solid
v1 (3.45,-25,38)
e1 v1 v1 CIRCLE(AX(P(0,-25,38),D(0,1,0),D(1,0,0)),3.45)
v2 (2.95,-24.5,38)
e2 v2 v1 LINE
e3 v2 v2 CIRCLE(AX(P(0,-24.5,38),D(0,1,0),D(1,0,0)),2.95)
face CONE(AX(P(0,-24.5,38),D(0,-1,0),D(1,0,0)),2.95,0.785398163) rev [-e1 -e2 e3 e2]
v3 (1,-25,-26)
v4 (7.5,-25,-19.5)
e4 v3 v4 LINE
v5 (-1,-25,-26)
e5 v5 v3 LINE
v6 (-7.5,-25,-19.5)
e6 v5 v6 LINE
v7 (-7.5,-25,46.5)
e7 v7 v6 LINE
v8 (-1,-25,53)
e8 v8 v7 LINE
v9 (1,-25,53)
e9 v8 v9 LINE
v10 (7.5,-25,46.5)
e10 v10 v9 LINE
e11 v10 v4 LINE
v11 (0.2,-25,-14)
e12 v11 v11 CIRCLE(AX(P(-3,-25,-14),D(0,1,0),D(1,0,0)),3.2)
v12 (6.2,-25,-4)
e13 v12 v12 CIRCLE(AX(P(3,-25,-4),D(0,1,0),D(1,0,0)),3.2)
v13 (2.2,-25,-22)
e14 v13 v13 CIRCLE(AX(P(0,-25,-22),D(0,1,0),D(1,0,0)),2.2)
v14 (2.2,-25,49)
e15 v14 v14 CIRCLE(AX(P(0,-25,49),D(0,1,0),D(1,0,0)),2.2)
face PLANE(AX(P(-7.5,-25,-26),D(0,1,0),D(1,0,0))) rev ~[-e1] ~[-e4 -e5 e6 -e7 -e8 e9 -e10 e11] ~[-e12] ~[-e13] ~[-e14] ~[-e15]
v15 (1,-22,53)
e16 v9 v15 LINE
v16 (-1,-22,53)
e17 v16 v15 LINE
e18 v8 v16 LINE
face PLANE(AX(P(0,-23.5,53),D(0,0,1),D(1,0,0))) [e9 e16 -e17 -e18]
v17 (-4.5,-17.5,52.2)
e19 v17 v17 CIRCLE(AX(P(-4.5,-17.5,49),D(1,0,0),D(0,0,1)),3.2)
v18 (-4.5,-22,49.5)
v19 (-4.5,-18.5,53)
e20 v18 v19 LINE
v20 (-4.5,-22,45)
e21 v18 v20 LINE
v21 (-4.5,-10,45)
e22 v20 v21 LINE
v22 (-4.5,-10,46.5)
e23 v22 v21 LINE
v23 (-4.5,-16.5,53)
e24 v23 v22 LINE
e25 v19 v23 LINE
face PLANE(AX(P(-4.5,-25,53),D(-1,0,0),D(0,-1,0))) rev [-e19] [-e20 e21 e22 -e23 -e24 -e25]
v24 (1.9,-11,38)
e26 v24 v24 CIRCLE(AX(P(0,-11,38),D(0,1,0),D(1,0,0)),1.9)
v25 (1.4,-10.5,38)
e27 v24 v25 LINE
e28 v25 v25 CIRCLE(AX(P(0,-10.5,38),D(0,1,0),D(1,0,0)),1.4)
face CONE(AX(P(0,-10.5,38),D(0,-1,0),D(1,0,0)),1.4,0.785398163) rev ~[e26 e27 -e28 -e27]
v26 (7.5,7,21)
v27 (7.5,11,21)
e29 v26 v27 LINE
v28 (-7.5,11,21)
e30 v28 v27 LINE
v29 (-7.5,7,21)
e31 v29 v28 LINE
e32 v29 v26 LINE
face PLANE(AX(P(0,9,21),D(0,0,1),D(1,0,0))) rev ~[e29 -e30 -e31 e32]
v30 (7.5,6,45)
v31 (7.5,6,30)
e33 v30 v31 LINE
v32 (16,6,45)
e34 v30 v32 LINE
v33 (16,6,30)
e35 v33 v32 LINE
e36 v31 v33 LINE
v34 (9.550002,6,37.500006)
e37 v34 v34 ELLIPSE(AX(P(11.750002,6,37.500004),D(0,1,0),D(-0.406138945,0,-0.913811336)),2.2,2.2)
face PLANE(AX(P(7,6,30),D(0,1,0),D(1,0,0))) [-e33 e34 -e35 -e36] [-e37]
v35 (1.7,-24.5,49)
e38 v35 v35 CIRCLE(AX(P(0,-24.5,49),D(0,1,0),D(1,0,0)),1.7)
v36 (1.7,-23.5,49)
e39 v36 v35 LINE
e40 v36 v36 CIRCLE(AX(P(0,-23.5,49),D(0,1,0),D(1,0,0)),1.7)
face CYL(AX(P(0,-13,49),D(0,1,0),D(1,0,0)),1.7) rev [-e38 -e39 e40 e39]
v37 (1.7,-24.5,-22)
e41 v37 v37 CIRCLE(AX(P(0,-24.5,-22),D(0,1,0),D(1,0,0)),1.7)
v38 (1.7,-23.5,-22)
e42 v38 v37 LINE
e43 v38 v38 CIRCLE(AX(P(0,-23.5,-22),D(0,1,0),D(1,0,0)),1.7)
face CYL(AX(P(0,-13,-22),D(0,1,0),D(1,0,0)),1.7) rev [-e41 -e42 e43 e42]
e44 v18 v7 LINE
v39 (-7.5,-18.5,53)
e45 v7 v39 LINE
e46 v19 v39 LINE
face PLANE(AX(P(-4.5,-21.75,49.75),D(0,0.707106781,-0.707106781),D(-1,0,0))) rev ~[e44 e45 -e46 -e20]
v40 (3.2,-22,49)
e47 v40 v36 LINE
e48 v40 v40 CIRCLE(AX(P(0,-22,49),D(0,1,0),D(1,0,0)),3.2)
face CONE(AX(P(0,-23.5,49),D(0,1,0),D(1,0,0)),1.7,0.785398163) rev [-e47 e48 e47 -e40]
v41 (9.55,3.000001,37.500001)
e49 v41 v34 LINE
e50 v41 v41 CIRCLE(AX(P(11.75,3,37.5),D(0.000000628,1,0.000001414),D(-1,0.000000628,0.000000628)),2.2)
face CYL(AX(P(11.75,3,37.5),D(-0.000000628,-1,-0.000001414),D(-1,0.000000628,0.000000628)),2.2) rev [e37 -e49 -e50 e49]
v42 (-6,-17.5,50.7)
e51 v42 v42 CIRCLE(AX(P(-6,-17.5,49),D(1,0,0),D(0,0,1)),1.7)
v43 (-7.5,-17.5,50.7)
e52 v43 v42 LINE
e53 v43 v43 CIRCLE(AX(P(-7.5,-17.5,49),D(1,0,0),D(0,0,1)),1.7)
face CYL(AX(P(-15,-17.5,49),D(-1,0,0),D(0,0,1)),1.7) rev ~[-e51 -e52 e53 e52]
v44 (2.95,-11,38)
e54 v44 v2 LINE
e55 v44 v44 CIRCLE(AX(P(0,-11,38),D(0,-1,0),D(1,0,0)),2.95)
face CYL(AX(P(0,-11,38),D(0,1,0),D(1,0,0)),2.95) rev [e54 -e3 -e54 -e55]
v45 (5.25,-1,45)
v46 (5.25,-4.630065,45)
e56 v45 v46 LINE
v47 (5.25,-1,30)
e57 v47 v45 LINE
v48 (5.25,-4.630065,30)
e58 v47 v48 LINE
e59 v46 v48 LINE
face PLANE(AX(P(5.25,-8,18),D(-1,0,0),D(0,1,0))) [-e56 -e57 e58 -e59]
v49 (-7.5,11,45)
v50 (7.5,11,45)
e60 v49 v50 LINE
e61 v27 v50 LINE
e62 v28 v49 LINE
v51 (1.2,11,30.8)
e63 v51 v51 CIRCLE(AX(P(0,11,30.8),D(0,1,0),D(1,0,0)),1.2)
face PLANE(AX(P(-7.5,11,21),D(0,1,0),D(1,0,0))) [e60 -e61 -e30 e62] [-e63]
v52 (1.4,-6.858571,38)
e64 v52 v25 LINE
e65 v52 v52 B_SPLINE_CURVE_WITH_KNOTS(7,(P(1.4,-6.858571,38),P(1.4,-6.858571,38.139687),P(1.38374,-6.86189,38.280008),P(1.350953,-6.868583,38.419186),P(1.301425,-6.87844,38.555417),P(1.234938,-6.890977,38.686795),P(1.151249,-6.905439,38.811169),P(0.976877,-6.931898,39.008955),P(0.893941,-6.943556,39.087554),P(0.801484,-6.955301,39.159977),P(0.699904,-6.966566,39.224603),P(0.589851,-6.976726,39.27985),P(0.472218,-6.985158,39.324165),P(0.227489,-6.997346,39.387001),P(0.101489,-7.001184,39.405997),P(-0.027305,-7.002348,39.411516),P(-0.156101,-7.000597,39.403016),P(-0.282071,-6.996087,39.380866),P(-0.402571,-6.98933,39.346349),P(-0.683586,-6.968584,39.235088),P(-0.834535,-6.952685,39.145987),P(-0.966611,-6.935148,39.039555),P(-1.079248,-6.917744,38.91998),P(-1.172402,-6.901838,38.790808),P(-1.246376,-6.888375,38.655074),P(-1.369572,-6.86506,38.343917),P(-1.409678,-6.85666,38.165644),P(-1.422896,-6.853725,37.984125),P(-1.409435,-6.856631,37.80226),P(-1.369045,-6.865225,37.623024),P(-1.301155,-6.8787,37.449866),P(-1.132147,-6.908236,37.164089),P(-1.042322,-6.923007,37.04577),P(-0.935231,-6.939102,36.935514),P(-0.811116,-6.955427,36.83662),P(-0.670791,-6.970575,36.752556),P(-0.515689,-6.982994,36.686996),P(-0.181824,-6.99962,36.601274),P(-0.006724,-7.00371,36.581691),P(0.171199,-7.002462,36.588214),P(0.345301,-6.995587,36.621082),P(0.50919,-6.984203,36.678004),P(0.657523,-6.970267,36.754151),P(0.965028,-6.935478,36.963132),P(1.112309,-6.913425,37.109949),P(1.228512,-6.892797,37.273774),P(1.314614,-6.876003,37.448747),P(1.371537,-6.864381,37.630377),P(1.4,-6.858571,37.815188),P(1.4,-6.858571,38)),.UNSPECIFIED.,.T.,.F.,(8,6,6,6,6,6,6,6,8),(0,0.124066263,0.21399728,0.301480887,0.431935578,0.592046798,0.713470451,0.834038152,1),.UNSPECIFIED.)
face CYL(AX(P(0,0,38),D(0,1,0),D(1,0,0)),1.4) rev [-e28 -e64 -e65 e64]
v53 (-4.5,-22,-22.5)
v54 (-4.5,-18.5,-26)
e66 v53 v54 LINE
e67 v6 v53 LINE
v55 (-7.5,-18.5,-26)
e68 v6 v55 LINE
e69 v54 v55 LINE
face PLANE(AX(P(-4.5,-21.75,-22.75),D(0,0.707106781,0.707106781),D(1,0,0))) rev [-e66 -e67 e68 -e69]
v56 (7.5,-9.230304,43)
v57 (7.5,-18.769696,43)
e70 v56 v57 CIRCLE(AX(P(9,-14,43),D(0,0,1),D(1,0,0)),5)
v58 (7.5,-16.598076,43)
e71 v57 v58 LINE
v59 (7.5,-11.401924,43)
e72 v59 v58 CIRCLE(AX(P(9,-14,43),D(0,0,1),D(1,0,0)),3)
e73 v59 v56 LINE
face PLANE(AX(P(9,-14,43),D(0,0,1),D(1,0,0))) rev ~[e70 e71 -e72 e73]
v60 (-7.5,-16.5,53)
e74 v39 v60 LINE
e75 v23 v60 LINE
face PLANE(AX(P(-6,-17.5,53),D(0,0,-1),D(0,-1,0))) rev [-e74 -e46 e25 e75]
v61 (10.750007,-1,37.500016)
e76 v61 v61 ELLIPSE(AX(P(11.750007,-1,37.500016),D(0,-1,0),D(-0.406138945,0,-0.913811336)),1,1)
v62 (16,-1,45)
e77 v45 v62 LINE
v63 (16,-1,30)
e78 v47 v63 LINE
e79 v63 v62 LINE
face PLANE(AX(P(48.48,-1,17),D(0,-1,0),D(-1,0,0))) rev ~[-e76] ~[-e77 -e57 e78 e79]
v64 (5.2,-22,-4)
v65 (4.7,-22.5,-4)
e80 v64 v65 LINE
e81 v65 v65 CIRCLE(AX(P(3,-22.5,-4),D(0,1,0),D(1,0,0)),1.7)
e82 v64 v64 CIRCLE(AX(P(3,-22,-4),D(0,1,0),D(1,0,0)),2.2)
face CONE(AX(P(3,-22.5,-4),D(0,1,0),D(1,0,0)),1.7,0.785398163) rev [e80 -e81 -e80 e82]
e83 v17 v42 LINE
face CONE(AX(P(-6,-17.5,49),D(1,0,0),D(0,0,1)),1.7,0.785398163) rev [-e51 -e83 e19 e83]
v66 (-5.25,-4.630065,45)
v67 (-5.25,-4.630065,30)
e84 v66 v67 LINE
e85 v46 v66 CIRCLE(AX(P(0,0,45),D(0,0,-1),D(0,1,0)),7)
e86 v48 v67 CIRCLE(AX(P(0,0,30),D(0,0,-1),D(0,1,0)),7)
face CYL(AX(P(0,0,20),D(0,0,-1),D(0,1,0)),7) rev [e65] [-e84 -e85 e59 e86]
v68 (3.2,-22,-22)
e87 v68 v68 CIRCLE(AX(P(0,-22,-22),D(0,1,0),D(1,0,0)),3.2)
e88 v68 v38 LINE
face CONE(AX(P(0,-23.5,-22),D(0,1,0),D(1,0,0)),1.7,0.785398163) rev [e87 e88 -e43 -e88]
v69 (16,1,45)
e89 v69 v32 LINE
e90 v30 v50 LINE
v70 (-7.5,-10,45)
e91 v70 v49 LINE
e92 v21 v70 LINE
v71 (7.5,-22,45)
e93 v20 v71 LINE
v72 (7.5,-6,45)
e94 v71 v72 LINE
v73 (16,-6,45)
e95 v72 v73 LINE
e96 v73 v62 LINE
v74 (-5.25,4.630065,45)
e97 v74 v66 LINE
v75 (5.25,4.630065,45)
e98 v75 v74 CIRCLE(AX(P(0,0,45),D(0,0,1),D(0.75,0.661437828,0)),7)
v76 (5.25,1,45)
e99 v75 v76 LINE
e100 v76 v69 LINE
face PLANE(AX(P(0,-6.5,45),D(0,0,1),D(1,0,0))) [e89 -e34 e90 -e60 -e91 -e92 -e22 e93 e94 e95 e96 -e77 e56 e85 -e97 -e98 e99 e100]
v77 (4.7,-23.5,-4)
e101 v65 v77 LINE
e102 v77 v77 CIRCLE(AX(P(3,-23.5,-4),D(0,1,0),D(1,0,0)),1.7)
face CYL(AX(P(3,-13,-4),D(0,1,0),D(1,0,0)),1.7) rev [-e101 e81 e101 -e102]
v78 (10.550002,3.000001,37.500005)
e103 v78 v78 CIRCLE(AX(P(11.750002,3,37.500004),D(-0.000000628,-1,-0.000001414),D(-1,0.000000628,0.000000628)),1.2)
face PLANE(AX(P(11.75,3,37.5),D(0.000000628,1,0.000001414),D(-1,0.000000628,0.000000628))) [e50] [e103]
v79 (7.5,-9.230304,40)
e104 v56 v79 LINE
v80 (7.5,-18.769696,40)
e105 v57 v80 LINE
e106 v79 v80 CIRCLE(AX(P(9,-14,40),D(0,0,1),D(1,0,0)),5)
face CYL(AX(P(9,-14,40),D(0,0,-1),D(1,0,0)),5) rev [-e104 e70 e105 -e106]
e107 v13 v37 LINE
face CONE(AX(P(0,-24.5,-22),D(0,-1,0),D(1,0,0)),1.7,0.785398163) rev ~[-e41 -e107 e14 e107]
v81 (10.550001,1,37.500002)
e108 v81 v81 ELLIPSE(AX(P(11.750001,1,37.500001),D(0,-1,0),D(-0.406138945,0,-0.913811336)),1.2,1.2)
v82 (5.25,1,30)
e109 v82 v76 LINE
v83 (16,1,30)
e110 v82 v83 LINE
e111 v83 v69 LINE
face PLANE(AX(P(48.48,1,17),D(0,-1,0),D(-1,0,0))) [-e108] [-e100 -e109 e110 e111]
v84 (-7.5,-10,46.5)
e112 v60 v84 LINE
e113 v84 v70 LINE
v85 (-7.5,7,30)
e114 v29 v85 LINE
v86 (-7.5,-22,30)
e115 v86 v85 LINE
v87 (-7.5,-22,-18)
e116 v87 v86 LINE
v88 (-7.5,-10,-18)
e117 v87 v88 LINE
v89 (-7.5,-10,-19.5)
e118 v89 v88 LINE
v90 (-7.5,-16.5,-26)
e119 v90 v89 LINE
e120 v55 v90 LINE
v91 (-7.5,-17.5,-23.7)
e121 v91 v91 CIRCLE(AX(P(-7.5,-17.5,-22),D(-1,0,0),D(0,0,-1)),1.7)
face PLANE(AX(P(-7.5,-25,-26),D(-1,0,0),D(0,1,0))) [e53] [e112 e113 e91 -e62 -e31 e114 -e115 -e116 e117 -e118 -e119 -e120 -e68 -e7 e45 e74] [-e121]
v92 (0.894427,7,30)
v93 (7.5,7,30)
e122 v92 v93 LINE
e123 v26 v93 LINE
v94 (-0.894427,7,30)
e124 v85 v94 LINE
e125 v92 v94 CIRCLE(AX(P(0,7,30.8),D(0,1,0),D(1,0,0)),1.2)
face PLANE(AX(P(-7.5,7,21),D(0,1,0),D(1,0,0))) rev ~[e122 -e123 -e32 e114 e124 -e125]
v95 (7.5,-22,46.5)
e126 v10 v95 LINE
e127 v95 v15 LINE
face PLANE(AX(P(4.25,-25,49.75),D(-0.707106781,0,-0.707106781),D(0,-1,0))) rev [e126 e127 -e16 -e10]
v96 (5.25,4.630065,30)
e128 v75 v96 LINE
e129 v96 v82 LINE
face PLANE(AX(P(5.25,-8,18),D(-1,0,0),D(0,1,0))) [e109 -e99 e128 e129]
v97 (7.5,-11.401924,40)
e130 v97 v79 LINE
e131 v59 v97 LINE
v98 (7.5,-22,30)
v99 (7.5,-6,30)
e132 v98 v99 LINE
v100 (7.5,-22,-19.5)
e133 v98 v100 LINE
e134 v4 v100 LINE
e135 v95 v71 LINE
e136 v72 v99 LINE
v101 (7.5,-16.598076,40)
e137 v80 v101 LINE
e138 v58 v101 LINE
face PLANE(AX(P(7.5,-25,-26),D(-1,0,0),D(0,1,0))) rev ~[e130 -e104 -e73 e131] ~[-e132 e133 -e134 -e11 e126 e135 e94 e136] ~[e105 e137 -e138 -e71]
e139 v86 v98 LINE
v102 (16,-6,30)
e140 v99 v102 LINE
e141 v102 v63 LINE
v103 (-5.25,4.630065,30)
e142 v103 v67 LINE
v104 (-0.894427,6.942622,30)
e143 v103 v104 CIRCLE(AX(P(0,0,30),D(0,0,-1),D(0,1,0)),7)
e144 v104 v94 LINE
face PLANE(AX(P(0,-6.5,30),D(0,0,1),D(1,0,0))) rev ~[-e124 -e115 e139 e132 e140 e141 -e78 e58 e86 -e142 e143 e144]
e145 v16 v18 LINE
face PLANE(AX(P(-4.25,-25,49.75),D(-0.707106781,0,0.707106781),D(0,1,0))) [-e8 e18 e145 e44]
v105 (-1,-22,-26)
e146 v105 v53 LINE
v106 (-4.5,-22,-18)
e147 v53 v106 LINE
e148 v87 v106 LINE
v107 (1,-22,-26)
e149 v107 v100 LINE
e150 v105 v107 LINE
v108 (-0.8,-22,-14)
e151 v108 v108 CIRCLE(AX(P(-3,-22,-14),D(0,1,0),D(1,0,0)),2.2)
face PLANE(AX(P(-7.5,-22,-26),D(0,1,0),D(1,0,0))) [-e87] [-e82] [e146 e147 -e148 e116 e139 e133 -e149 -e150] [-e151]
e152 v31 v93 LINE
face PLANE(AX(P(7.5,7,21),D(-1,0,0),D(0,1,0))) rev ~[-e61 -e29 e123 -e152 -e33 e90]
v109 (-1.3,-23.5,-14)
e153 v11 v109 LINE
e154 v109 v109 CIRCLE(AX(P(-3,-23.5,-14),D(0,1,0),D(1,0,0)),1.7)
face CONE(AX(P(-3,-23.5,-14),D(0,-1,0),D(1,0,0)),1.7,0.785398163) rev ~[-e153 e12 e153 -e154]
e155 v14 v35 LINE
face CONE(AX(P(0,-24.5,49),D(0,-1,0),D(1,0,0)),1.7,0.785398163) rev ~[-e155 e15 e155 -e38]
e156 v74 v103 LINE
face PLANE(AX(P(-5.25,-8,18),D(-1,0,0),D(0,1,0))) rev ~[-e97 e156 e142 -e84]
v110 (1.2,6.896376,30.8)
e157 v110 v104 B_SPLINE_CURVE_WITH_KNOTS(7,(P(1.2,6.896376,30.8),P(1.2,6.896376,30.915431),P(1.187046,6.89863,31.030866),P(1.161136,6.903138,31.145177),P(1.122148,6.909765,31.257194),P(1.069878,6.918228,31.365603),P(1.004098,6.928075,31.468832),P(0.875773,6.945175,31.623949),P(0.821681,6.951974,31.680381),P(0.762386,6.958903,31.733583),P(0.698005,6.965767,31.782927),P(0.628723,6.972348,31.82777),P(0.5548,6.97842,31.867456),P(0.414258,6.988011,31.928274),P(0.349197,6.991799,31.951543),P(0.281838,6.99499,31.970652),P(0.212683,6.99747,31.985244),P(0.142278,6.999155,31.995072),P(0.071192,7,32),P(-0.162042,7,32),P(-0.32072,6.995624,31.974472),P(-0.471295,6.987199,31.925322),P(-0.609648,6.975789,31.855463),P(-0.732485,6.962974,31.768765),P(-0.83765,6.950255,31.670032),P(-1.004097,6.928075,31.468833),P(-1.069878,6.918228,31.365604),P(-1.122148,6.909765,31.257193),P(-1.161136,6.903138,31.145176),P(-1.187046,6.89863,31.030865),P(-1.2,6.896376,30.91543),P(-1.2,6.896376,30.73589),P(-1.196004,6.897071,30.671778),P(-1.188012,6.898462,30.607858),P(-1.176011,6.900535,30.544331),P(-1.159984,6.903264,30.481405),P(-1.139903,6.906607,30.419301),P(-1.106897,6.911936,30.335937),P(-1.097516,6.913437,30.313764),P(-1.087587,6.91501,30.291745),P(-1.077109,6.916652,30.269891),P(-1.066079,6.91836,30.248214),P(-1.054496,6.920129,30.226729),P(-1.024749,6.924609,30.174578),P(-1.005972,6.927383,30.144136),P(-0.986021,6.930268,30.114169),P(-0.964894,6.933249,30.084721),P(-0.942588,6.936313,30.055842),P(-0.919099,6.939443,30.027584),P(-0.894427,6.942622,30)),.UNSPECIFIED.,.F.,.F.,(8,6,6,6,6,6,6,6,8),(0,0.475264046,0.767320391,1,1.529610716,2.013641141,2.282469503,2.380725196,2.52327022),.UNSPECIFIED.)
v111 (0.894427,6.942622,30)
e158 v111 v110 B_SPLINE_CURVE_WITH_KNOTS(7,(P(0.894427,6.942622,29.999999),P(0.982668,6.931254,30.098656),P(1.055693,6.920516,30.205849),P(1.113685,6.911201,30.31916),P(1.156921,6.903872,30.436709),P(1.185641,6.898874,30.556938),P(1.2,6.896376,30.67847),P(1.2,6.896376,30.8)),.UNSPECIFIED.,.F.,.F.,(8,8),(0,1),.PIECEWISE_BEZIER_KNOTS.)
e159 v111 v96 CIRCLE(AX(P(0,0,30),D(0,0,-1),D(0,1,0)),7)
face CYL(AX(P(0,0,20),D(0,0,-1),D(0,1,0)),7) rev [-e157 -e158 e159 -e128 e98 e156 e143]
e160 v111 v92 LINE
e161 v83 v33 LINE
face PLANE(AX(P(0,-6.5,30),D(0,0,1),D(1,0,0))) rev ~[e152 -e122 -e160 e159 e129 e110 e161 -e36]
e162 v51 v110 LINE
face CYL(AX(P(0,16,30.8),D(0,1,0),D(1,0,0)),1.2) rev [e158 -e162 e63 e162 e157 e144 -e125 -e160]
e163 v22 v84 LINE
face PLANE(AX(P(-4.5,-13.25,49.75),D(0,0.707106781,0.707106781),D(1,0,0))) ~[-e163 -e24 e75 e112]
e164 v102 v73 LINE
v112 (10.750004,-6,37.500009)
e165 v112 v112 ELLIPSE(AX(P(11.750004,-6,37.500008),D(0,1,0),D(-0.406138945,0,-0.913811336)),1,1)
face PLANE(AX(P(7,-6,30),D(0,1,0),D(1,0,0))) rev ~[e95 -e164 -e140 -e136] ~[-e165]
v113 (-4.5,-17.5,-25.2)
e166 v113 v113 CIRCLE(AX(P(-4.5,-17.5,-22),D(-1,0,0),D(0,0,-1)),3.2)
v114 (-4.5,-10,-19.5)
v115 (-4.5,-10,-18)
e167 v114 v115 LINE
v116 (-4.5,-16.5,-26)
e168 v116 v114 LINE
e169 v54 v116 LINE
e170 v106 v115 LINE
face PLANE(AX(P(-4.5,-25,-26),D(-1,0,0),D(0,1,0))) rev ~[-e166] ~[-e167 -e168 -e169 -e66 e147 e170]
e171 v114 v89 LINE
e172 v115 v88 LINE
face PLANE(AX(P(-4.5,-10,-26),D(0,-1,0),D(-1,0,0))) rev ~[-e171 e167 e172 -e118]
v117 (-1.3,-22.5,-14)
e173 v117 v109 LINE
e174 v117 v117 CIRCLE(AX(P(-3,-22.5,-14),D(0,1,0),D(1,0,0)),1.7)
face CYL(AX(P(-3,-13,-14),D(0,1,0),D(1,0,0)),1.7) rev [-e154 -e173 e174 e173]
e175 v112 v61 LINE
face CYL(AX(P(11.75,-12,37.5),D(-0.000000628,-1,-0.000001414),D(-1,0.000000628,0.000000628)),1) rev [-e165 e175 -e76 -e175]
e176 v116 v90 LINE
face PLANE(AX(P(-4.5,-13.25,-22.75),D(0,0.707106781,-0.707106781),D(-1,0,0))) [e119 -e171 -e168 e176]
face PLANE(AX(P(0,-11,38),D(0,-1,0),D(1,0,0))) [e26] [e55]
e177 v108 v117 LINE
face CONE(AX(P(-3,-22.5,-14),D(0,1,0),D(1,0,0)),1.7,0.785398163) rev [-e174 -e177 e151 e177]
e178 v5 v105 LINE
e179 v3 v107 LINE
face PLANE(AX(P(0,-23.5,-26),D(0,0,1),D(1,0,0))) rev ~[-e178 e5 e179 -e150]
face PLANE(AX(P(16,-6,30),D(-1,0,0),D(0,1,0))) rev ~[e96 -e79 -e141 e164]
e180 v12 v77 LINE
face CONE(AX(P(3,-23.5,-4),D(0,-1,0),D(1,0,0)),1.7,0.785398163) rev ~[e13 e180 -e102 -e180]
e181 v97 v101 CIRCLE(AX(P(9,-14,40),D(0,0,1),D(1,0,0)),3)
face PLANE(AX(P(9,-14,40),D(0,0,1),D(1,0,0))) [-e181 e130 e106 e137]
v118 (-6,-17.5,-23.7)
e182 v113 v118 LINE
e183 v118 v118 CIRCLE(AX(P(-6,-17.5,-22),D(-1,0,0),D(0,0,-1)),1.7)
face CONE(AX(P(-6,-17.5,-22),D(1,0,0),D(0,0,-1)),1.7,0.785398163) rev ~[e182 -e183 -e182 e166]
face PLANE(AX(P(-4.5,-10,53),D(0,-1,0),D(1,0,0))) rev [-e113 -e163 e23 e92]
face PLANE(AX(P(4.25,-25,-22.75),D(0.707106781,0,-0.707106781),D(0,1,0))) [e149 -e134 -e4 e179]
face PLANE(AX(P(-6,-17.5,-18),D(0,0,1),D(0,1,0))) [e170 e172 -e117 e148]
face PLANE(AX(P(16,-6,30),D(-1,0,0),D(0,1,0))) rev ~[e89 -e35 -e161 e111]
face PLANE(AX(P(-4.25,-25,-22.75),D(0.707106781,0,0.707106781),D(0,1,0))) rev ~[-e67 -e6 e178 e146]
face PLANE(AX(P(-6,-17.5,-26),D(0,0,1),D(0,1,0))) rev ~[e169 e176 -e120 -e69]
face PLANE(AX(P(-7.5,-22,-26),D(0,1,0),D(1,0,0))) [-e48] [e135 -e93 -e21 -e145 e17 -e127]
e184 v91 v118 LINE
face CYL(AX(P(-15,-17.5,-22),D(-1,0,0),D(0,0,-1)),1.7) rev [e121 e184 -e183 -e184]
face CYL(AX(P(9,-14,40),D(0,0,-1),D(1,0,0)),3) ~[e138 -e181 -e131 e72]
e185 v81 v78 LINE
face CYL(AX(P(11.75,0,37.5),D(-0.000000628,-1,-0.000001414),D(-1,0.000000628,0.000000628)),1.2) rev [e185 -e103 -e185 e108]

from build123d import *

# Parameters (mm, degrees)
CYLINDER102_R               = 1.7
CYLINDER102_DEPTH           = 21
BOX406008019_W              = 15
BOX406008019_H              = 3
BOX406008019_DEPTH          = 8
CHAMFER011_SIZE             = 6.5
CHAMFER012_SIZE             = 1.5
CYLINDER103_R               = 1.7
CYLINDER103_DEPTH           = 21
BOX406008020_W              = 15
BOX406008020_H              = 3
BOX406008020_DEPTH          = 8
CHAMFER013_SIZE             = 6.5
CHAMFER014_SIZE             = 1.5
CYLINDER101_R               = 2.95
CYLINDER101_DEPTH           = 20
CYLINDER100_R               = 1.4
CYLINDER100_DEPTH           = 28
CYLINDER099_R               = 3
CYLINDER099_DEPTH           = 3
CYLINDER098_R               = 5
CYLINDER098_DEPTH           = 3
CYLINDER090_R               = 1.2
CYLINDER090_DEPTH           = 13
CYLINDER091_R               = 1
CYLINDER091_DEPTH           = 12
CYLINDER091_ROLL_ANGLE      = 89.999919
CYLINDER091_PITCH_ANGLE     = -3.6e-05
CYLINDER091_PLACEMENT_ANGLE = 179.999964
CYLINDER069_R               = 2.2
CYLINDER069_DEPTH           = 12
CYLINDER069_ROLL_ANGLE      = 89.999919
CYLINDER069_PITCH_ANGLE     = -3.6e-05
CYLINDER069_PLACEMENT_ANGLE = 179.999964
CYLINDER068_R               = 1.2
CYLINDER068_DEPTH           = 12
CYLINDER068_ROLL_ANGLE      = 89.999919
CYLINDER068_PITCH_ANGLE     = -3.6e-05
CYLINDER068_PLACEMENT_ANGLE = 179.999964
BOX406016_W                 = 49
BOX406016_H                 = 2
BOX406016_DEPTH             = 32
BOX406008016_W              = 9
BOX406008016_H              = 12
BOX406008016_DEPTH          = 15
BOX406017_W                 = 16
BOX406017_H                 = 10.5
BOX406017_DEPTH             = 28
CYLINDER067_R               = 7
CYLINDER067_DEPTH           = 26
COMMON004_PLACEMENT_ANGLE   = 90
BOX406008015_W              = 15
BOX406008015_H              = 31
BOX406008015_DEPTH          = 15
BOX406008017_W              = 15
BOX406008017_H              = 4
BOX406008017_DEPTH          = 24
CYLINDER096_R               = 1.7
CYLINDER096_DEPTH           = 21
BOX_W                       = 15
BOX_H                       = 3
BOX_DEPTH                   = 8
CYLINDER097_R               = 1.7
CYLINDER097_DEPTH           = 21
BOX406008018_W              = 15
BOX406008018_H              = 3
BOX406008018_DEPTH          = 8
CHAMFER005_SIZE             = 1.5
CYLINDER093_R               = 1.7
CYLINDER093_DEPTH           = 21
CYLINDER092_R               = 1.7
CYLINDER092_DEPTH           = 21
BOX406008014_W              = 15
BOX406008014_H              = 3
BOX406008014_DEPTH          = 63
CHAMFER006_SIZE             = 1.5
CHAMFER007_SIZE             = 6.5
CHAMFER009_SIZE             = 0.5
CHAMFER010_SIZE             = 0.5
CHAMFER015_SIZE             = 0.5
CHAMFER016_SIZE             = 0.5


with BuildPart() as cylinder102:
    # Cylinder102 → Cylinder102 (new body)
    with BuildSketch(Plane(origin=(-15, -17.5, -22), x_dir=(0, 0, -1), z_dir=(1, 0, 0))):
        Circle(CYLINDER102_R)
    extrude(amount=CYLINDER102_DEPTH)


with BuildPart() as chamfer012_mount_hole:
    # Box406008019 → Box406008019 (new body)
    with BuildSketch(Plane(origin=(-4.5, -25, -26), x_dir=(0, 1, 0), z_dir=(0, 0, 1))):
        with Locations((7.5, 1.5)):
            Rectangle(BOX406008019_W, BOX406008019_H)
    extrude(amount=BOX406008019_DEPTH)

    # Cut083: cut Cylinder102
    add(cylinder102.part, mode=Mode.SUBTRACT)

    # Chamfer011
    chamfer011_edges = [chamfer012_mount_hole.edges().sort_by_distance(p)[0] for p in [
        (-6, -25, -26),
        (-6, -10, -26),
    ]]
    chamfer(chamfer011_edges, length=CHAMFER011_SIZE)

    # Chamfer012
    chamfer012_edges = [chamfer012_mount_hole.edges().sort_by_distance(p)[0] for p in [
        (-4.5, -17.5, -20.3),
    ]]
    chamfer(chamfer012_edges, length=CHAMFER012_SIZE)


with BuildPart() as cylinder103:
    # Cylinder103 → Cylinder103 (new body)
    with BuildSketch(Plane(origin=(-15, -17.5, -22), x_dir=(0, 0, -1), z_dir=(1, 0, 0))):
        Circle(CYLINDER103_R)
    extrude(amount=CYLINDER103_DEPTH)


with BuildPart() as chamfer012_mount_hole001:
    # Box406008020 → Box406008020 (new body)
    with BuildSketch(Plane(origin=(-4.5, -25, -26), x_dir=(0, 1, 0), z_dir=(0, 0, 1))):
        with Locations((7.5, 1.5)):
            Rectangle(BOX406008020_W, BOX406008020_H)
    extrude(amount=BOX406008020_DEPTH)

    # Cut084: cut Cylinder103
    add(cylinder103.part, mode=Mode.SUBTRACT)

    # Chamfer013
    chamfer013_edges = [chamfer012_mount_hole001.edges().sort_by_distance(p)[0] for p in [
        (-6, -25, -26),
        (-6, -10, -26),
    ]]
    chamfer(chamfer013_edges, length=CHAMFER013_SIZE)

    # Chamfer014
    chamfer014_edges = [chamfer012_mount_hole001.edges().sort_by_distance(p)[0] for p in [
        (-4.5, -17.5, -20.3),
    ]]
    chamfer(chamfer014_edges, length=CHAMFER014_SIZE)


with BuildPart() as fusion103077013004017019:
    # Part__Mirroring001: instance of Chamfer012 Mount Hole001
    add(chamfer012_mount_hole001.part.mirror(Plane(origin=(0, 0, 0), x_dir=(0, 1, 0), z_dir=(0, 0, 1))))


with BuildPart() as fusion103077013004017019_1:
    # Part__Mirroring001 placement: moved
    add(fusion103077013004017019.part.moved(Location((0, 0, 27))))

    # Fusion103077013004017019: union Chamfer012 Mount Hole
    add(chamfer012_mount_hole.part)


with BuildPart() as cylinder101:
    # Cylinder101 → Cylinder101 (new body)
    with BuildSketch(Plane(origin=(0, -11, 38), x_dir=(1, 0, 0), z_dir=(0, -1, 0))):
        Circle(CYLINDER101_R)
    extrude(amount=CYLINDER101_DEPTH)


with BuildPart() as fusion103077013004017018:
    # Cylinder100 → Cylinder100 (new body)
    with BuildSketch(Plane(origin=(0, 0, 38), x_dir=(1, 0, 0), z_dir=(0, -1, 0))):
        Circle(CYLINDER100_R)
    extrude(amount=CYLINDER100_DEPTH)

    # Fusion103077013004017018: union Cylinder101
    add(cylinder101.part)


with BuildPart() as cylinder099:
    # Cylinder099 → Cylinder099 (new body)
    with BuildSketch(Plane(origin=(-9, -9, 36), x_dir=(1, 0, 0), z_dir=(0, 0, 1))):
        Circle(CYLINDER099_R)
    extrude(amount=CYLINDER099_DEPTH)


with BuildPart() as cable_tie_hole:
    # Cylinder098 → Cylinder098 (new body)
    with BuildSketch(Plane(origin=(-9, -9, 36), x_dir=(1, 0, 0), z_dir=(0, 0, 1))):
        Circle(CYLINDER098_R)
    extrude(amount=CYLINDER098_DEPTH)

    # Cut081: cut Cylinder099
    add(cylinder099.part, mode=Mode.SUBTRACT)


with BuildPart() as cable_tie_hole_1:
    # Cut081 placement: moved
    add(cable_tie_hole.part.moved(Location((18, -5, 4))))


with BuildPart() as cylinder084:
    # Cylinder090 → Cylinder090 (new body)
    with BuildSketch(Plane(origin=(0, 16, 35.8), x_dir=(1, 0, 0), z_dir=(0, -1, 0))):
        Circle(CYLINDER090_R)
    extrude(amount=CYLINDER090_DEPTH)


with BuildPart() as cylinder091:
    # Cylinder091 → Cylinder091 (new body)
    with BuildSketch(Plane.XY):
        Circle(CYLINDER091_R)
    extrude(amount=CYLINDER091_DEPTH)


with BuildPart() as cylinder091_1:
    # Cylinder091 roll: moved
    add(cylinder091.part.rotate(Axis((0, 0, 0), (1, 0, 0)), CYLINDER091_ROLL_ANGLE))


with BuildPart() as cylinder091_2:
    # Cylinder091 pitch: moved
    add(cylinder091_1.part.rotate(Axis((0, 0, 0), (0, 1, 0)), CYLINDER091_PITCH_ANGLE))


with BuildPart() as cylinder091_3:
    # Cylinder091 placement: moved
    add(cylinder091_2.part.moved(Location((11.75, -12, 42.5))).rotate(Axis((11.75, -12, 42.5), (0, 0, 1)), CYLINDER091_PLACEMENT_ANGLE))


with BuildPart() as cylinder069:
    # Cylinder069 → Cylinder069 (new body)
    with BuildSketch(Plane.XY):
        Circle(CYLINDER069_R)
    extrude(amount=CYLINDER069_DEPTH)


with BuildPart() as cylinder069_1:
    # Cylinder069 roll: moved
    add(cylinder069.part.rotate(Axis((0, 0, 0), (1, 0, 0)), CYLINDER069_ROLL_ANGLE))


with BuildPart() as cylinder069_2:
    # Cylinder069 pitch: moved
    add(cylinder069_1.part.rotate(Axis((0, 0, 0), (0, 1, 0)), CYLINDER069_PITCH_ANGLE))


with BuildPart() as cylinder069_3:
    # Cylinder069 placement: moved
    add(cylinder069_2.part.moved(Location((11.75, 3, 42.5))).rotate(Axis((11.75, 3, 42.5), (0, 0, 1)), CYLINDER069_PLACEMENT_ANGLE))


with BuildPart() as fusion103077013004017011:
    # Cylinder068 → Cylinder068 (new body)
    with BuildSketch(Plane.XY):
        Circle(CYLINDER068_R)
    extrude(amount=CYLINDER068_DEPTH)


with BuildPart() as fusion103077013004017011_1:
    # Cylinder068 roll: moved
    add(fusion103077013004017011.part.rotate(Axis((0, 0, 0), (1, 0, 0)), CYLINDER068_ROLL_ANGLE))


with BuildPart() as fusion103077013004017011_2:
    # Cylinder068 pitch: moved
    add(fusion103077013004017011_1.part.rotate(Axis((0, 0, 0), (0, 1, 0)), CYLINDER068_PITCH_ANGLE))


with BuildPart() as fusion103077013004017011_3:
    # Cylinder068 placement: moved
    add(fusion103077013004017011_2.part.moved(Location((11.75, 0, 42.5))).rotate(Axis((11.75, 0, 42.5), (0, 0, 1)), CYLINDER068_PLACEMENT_ANGLE))

    # Fusion103077013: union Cylinder069
    add(cylinder069_3.part)

    # Fusion103077013004017011: union Cylinder091
    add(cylinder091_3.part)


with BuildPart() as clamp_slot:
    # Box406016 → Box406016 (new body)
    with BuildSketch(Plane(origin=(48.48, 1, 22), x_dir=(-1, 0, 0), z_dir=(0, 0, 1))):
        with Locations((24.5, 1)):
            Rectangle(BOX406016_W, BOX406016_H)
    extrude(amount=BOX406016_DEPTH)


with BuildPart() as cube351:
    # Box406008016 → Box406008016 (new body)
    with BuildSketch(Plane(origin=(7, -6, 35), x_dir=(1, 0, 0), z_dir=(0, 0, 1))):
        with Locations((4.5, 6)):
            Rectangle(BOX406008016_W, BOX406008016_H)
    extrude(amount=BOX406008016_DEPTH)


with BuildPart() as gearbox001:
    # Box406017 → Box406017 (new body)
    with BuildSketch(Plane(origin=(-8, -5.25, 18), x_dir=(1, 0, 0), z_dir=(0, 0, 1))):
        with Locations((8, 5.25)):
            Rectangle(BOX406017_W, BOX406017_H)
    extrude(amount=BOX406017_DEPTH)


with BuildPart() as motor_hole:
    # Cylinder067 → Cylinder067 (new body)
    with BuildSketch(Plane.XY.offset(20)):
        Circle(CYLINDER067_R)
    extrude(amount=CYLINDER067_DEPTH)

    # Common004: intersect gearbox001
    add(gearbox001.part, mode=Mode.INTERSECT)


with BuildPart() as motor_hole_1:
    # Common004 placement: moved
    add(motor_hole.part.moved(Location((0, 0, 5))).rotate(Axis((0, 0, 5), (0, 0, 1)), COMMON004_PLACEMENT_ANGLE))


with BuildPart() as cut075:
    # Box406008015 → Box406008015 (new body)
    with BuildSketch(Plane(origin=(-7.5, -22, 35), x_dir=(1, 0, 0), z_dir=(0, 0, 1))):
        with Locations((7.5, 15.5)):
            Rectangle(BOX406008015_W, BOX406008015_H)
    extrude(amount=BOX406008015_DEPTH)

    # Cut073: cut motor-hole
    add(motor_hole_1.part, mode=Mode.SUBTRACT)

    # Fusion103077013004017010: union Cube351
    add(cube351.part)

    # Cut074: cut clamp-slot
    add(clamp_slot.part, mode=Mode.SUBTRACT)

    # Cut075: cut Fusion103077013004017011
    add(fusion103077013004017011_3.part, mode=Mode.SUBTRACT)


with BuildPart() as cut082:
    # Box406008017 → Box406008017 (new body)
    with BuildSketch(Plane(origin=(-7.5, 7, 26), x_dir=(1, 0, 0), z_dir=(0, 0, 1))):
        with Locations((7.5, 2)):
            Rectangle(BOX406008017_W, BOX406008017_H)
    extrude(amount=BOX406008017_DEPTH)

    # Fusion103077013004017012: union Cut075
    add(cut075.part)

    # Cut076: cut Cylinder084
    add(cylinder084.part, mode=Mode.SUBTRACT)


with BuildPart() as cut082_1:
    # Cut076 placement: moved
    add(cut082.part.moved(Location((0, 0, -5))))

    # Cut082: cut Cable tie Hole
    add(cable_tie_hole_1.part, mode=Mode.SUBTRACT)


with BuildPart() as cylinder096:
    # Cylinder096 → Cylinder096 (new body)
    with BuildSketch(Plane(origin=(0, -13, 49), x_dir=(1, 0, 0), z_dir=(0, -1, 0))):
        Circle(CYLINDER096_R)
    extrude(amount=CYLINDER096_DEPTH)


with BuildPart() as cut080:
    # Box → Box (new body)
    with BuildSketch(Plane(origin=(-7.5, -25, 45), x_dir=(1, 0, 0), z_dir=(0, 0, 1))):
        with Locations((7.5, 1.5)):
            Rectangle(BOX_W, BOX_H)
    extrude(amount=BOX_DEPTH)

    # Cut080: cut Cylinder096
    add(cylinder096.part, mode=Mode.SUBTRACT)


with BuildPart() as cylinder097:
    # Cylinder097 → Cylinder097 (new body)
    with BuildSketch(Plane(origin=(0, -13, -22), x_dir=(1, 0, 0), z_dir=(0, -1, 0))):
        Circle(CYLINDER097_R)
    extrude(amount=CYLINDER097_DEPTH)


with BuildPart() as chamfer005_mount_holes:
    # Box406008018 → Box406008018 (new body)
    with BuildSketch(Plane(origin=(-7.5, -25, -26), x_dir=(1, 0, 0), z_dir=(0, 0, 1))):
        with Locations((7.5, 1.5)):
            Rectangle(BOX406008018_W, BOX406008018_H)
    extrude(amount=BOX406008018_DEPTH)

    # Cut079: cut Cylinder097
    add(cylinder097.part, mode=Mode.SUBTRACT)

    # Fusion103077013004017015: union Cut080
    add(cut080.part)

    # Chamfer005
    chamfer005_edges = [chamfer005_mount_holes.edges().sort_by_distance(p)[0] for p in [
        (-1.7, -22, -22),
        (-1.7, -22, 49),
    ]]
    chamfer(chamfer005_edges, length=CHAMFER005_SIZE)


with BuildPart() as cylinder093:
    # Cylinder093 → Cylinder093 (new body)
    with BuildSketch(Plane(origin=(3, -13, -4), x_dir=(1, 0, 0), z_dir=(0, -1, 0))):
        Circle(CYLINDER093_R)
    extrude(amount=CYLINDER093_DEPTH)


with BuildPart() as fusion103077013004017013:
    # Cylinder092 → Cylinder092 (new body)
    with BuildSketch(Plane(origin=(-3, -13, -14), x_dir=(1, 0, 0), z_dir=(0, -1, 0))):
        Circle(CYLINDER092_R)
    extrude(amount=CYLINDER092_DEPTH)

    # Fusion103077013004017013: union Cylinder093
    add(cylinder093.part)


with BuildPart() as chamfer016:
    # Box406008014 → Box406008014 (new body)
    with BuildSketch(Plane(origin=(-7.5, -25, -18), x_dir=(1, 0, 0), z_dir=(0, 0, 1))):
        with Locations((7.5, 1.5)):
            Rectangle(BOX406008014_W, BOX406008014_H)
    extrude(amount=BOX406008014_DEPTH)

    # Cut077: cut Fusion103077013004017013
    add(fusion103077013004017013.part, mode=Mode.SUBTRACT)

    # Chamfer006
    chamfer006_edges = [chamfer016.edges().sort_by_distance(p)[0] for p in [
        (-4.7, -25, -14),
        (1.3, -25, -4),
    ]]
    chamfer(chamfer006_edges, length=CHAMFER006_SIZE)

    # Fusion103077013004017016: union Chamfer005 mount holes
    add(chamfer005_mount_holes.part)

    # Chamfer007
    chamfer007_edges = [chamfer016.edges().sort_by_distance(p)[0] for p in [
        (-7.5, -23.5, -26),
        (7.5, -23.5, -26),
        (7.5, -23.5, 53),
        (-7.5, -23.5, 53),
    ]]
    chamfer(chamfer007_edges, length=CHAMFER007_SIZE)

    # Fusion103077013004017017: union Cut082
    add(cut082_1.part)

    # Chamfer009
    chamfer009_edges = [chamfer016.edges().sort_by_distance(p)[0] for p in [
        (-4.7, -22, -14),
        (1.3, -22, -4),
    ]]
    chamfer(chamfer009_edges, length=CHAMFER009_SIZE)

    # Chamfer010
    chamfer010_edges = [chamfer016.edges().sort_by_distance(p)[0] for p in [
        (-1.7, -25, -22),
        (-1.7, -25, 49),
    ]]
    chamfer(chamfer010_edges, length=CHAMFER010_SIZE)

    # Cut085: cut Fusion103077013004017018
    add(fusion103077013004017018.part, mode=Mode.SUBTRACT)

    # Fusion103077013004017020: union Fusion103077013004017019
    add(fusion103077013004017019_1.part)

    # Chamfer015
    chamfer015_edges = [chamfer016.edges().sort_by_distance(p)[0] for p in [
        (-1.4, -11, 38),
    ]]
    chamfer(chamfer015_edges, length=CHAMFER015_SIZE)

    # Chamfer016
    chamfer016_edges = [chamfer016.edges().sort_by_distance(p)[0] for p in [
        (-2.95, -25, 38),
    ]]
    chamfer(chamfer016_edges, length=CHAMFER016_SIZE)


solid = chamfer016.part
